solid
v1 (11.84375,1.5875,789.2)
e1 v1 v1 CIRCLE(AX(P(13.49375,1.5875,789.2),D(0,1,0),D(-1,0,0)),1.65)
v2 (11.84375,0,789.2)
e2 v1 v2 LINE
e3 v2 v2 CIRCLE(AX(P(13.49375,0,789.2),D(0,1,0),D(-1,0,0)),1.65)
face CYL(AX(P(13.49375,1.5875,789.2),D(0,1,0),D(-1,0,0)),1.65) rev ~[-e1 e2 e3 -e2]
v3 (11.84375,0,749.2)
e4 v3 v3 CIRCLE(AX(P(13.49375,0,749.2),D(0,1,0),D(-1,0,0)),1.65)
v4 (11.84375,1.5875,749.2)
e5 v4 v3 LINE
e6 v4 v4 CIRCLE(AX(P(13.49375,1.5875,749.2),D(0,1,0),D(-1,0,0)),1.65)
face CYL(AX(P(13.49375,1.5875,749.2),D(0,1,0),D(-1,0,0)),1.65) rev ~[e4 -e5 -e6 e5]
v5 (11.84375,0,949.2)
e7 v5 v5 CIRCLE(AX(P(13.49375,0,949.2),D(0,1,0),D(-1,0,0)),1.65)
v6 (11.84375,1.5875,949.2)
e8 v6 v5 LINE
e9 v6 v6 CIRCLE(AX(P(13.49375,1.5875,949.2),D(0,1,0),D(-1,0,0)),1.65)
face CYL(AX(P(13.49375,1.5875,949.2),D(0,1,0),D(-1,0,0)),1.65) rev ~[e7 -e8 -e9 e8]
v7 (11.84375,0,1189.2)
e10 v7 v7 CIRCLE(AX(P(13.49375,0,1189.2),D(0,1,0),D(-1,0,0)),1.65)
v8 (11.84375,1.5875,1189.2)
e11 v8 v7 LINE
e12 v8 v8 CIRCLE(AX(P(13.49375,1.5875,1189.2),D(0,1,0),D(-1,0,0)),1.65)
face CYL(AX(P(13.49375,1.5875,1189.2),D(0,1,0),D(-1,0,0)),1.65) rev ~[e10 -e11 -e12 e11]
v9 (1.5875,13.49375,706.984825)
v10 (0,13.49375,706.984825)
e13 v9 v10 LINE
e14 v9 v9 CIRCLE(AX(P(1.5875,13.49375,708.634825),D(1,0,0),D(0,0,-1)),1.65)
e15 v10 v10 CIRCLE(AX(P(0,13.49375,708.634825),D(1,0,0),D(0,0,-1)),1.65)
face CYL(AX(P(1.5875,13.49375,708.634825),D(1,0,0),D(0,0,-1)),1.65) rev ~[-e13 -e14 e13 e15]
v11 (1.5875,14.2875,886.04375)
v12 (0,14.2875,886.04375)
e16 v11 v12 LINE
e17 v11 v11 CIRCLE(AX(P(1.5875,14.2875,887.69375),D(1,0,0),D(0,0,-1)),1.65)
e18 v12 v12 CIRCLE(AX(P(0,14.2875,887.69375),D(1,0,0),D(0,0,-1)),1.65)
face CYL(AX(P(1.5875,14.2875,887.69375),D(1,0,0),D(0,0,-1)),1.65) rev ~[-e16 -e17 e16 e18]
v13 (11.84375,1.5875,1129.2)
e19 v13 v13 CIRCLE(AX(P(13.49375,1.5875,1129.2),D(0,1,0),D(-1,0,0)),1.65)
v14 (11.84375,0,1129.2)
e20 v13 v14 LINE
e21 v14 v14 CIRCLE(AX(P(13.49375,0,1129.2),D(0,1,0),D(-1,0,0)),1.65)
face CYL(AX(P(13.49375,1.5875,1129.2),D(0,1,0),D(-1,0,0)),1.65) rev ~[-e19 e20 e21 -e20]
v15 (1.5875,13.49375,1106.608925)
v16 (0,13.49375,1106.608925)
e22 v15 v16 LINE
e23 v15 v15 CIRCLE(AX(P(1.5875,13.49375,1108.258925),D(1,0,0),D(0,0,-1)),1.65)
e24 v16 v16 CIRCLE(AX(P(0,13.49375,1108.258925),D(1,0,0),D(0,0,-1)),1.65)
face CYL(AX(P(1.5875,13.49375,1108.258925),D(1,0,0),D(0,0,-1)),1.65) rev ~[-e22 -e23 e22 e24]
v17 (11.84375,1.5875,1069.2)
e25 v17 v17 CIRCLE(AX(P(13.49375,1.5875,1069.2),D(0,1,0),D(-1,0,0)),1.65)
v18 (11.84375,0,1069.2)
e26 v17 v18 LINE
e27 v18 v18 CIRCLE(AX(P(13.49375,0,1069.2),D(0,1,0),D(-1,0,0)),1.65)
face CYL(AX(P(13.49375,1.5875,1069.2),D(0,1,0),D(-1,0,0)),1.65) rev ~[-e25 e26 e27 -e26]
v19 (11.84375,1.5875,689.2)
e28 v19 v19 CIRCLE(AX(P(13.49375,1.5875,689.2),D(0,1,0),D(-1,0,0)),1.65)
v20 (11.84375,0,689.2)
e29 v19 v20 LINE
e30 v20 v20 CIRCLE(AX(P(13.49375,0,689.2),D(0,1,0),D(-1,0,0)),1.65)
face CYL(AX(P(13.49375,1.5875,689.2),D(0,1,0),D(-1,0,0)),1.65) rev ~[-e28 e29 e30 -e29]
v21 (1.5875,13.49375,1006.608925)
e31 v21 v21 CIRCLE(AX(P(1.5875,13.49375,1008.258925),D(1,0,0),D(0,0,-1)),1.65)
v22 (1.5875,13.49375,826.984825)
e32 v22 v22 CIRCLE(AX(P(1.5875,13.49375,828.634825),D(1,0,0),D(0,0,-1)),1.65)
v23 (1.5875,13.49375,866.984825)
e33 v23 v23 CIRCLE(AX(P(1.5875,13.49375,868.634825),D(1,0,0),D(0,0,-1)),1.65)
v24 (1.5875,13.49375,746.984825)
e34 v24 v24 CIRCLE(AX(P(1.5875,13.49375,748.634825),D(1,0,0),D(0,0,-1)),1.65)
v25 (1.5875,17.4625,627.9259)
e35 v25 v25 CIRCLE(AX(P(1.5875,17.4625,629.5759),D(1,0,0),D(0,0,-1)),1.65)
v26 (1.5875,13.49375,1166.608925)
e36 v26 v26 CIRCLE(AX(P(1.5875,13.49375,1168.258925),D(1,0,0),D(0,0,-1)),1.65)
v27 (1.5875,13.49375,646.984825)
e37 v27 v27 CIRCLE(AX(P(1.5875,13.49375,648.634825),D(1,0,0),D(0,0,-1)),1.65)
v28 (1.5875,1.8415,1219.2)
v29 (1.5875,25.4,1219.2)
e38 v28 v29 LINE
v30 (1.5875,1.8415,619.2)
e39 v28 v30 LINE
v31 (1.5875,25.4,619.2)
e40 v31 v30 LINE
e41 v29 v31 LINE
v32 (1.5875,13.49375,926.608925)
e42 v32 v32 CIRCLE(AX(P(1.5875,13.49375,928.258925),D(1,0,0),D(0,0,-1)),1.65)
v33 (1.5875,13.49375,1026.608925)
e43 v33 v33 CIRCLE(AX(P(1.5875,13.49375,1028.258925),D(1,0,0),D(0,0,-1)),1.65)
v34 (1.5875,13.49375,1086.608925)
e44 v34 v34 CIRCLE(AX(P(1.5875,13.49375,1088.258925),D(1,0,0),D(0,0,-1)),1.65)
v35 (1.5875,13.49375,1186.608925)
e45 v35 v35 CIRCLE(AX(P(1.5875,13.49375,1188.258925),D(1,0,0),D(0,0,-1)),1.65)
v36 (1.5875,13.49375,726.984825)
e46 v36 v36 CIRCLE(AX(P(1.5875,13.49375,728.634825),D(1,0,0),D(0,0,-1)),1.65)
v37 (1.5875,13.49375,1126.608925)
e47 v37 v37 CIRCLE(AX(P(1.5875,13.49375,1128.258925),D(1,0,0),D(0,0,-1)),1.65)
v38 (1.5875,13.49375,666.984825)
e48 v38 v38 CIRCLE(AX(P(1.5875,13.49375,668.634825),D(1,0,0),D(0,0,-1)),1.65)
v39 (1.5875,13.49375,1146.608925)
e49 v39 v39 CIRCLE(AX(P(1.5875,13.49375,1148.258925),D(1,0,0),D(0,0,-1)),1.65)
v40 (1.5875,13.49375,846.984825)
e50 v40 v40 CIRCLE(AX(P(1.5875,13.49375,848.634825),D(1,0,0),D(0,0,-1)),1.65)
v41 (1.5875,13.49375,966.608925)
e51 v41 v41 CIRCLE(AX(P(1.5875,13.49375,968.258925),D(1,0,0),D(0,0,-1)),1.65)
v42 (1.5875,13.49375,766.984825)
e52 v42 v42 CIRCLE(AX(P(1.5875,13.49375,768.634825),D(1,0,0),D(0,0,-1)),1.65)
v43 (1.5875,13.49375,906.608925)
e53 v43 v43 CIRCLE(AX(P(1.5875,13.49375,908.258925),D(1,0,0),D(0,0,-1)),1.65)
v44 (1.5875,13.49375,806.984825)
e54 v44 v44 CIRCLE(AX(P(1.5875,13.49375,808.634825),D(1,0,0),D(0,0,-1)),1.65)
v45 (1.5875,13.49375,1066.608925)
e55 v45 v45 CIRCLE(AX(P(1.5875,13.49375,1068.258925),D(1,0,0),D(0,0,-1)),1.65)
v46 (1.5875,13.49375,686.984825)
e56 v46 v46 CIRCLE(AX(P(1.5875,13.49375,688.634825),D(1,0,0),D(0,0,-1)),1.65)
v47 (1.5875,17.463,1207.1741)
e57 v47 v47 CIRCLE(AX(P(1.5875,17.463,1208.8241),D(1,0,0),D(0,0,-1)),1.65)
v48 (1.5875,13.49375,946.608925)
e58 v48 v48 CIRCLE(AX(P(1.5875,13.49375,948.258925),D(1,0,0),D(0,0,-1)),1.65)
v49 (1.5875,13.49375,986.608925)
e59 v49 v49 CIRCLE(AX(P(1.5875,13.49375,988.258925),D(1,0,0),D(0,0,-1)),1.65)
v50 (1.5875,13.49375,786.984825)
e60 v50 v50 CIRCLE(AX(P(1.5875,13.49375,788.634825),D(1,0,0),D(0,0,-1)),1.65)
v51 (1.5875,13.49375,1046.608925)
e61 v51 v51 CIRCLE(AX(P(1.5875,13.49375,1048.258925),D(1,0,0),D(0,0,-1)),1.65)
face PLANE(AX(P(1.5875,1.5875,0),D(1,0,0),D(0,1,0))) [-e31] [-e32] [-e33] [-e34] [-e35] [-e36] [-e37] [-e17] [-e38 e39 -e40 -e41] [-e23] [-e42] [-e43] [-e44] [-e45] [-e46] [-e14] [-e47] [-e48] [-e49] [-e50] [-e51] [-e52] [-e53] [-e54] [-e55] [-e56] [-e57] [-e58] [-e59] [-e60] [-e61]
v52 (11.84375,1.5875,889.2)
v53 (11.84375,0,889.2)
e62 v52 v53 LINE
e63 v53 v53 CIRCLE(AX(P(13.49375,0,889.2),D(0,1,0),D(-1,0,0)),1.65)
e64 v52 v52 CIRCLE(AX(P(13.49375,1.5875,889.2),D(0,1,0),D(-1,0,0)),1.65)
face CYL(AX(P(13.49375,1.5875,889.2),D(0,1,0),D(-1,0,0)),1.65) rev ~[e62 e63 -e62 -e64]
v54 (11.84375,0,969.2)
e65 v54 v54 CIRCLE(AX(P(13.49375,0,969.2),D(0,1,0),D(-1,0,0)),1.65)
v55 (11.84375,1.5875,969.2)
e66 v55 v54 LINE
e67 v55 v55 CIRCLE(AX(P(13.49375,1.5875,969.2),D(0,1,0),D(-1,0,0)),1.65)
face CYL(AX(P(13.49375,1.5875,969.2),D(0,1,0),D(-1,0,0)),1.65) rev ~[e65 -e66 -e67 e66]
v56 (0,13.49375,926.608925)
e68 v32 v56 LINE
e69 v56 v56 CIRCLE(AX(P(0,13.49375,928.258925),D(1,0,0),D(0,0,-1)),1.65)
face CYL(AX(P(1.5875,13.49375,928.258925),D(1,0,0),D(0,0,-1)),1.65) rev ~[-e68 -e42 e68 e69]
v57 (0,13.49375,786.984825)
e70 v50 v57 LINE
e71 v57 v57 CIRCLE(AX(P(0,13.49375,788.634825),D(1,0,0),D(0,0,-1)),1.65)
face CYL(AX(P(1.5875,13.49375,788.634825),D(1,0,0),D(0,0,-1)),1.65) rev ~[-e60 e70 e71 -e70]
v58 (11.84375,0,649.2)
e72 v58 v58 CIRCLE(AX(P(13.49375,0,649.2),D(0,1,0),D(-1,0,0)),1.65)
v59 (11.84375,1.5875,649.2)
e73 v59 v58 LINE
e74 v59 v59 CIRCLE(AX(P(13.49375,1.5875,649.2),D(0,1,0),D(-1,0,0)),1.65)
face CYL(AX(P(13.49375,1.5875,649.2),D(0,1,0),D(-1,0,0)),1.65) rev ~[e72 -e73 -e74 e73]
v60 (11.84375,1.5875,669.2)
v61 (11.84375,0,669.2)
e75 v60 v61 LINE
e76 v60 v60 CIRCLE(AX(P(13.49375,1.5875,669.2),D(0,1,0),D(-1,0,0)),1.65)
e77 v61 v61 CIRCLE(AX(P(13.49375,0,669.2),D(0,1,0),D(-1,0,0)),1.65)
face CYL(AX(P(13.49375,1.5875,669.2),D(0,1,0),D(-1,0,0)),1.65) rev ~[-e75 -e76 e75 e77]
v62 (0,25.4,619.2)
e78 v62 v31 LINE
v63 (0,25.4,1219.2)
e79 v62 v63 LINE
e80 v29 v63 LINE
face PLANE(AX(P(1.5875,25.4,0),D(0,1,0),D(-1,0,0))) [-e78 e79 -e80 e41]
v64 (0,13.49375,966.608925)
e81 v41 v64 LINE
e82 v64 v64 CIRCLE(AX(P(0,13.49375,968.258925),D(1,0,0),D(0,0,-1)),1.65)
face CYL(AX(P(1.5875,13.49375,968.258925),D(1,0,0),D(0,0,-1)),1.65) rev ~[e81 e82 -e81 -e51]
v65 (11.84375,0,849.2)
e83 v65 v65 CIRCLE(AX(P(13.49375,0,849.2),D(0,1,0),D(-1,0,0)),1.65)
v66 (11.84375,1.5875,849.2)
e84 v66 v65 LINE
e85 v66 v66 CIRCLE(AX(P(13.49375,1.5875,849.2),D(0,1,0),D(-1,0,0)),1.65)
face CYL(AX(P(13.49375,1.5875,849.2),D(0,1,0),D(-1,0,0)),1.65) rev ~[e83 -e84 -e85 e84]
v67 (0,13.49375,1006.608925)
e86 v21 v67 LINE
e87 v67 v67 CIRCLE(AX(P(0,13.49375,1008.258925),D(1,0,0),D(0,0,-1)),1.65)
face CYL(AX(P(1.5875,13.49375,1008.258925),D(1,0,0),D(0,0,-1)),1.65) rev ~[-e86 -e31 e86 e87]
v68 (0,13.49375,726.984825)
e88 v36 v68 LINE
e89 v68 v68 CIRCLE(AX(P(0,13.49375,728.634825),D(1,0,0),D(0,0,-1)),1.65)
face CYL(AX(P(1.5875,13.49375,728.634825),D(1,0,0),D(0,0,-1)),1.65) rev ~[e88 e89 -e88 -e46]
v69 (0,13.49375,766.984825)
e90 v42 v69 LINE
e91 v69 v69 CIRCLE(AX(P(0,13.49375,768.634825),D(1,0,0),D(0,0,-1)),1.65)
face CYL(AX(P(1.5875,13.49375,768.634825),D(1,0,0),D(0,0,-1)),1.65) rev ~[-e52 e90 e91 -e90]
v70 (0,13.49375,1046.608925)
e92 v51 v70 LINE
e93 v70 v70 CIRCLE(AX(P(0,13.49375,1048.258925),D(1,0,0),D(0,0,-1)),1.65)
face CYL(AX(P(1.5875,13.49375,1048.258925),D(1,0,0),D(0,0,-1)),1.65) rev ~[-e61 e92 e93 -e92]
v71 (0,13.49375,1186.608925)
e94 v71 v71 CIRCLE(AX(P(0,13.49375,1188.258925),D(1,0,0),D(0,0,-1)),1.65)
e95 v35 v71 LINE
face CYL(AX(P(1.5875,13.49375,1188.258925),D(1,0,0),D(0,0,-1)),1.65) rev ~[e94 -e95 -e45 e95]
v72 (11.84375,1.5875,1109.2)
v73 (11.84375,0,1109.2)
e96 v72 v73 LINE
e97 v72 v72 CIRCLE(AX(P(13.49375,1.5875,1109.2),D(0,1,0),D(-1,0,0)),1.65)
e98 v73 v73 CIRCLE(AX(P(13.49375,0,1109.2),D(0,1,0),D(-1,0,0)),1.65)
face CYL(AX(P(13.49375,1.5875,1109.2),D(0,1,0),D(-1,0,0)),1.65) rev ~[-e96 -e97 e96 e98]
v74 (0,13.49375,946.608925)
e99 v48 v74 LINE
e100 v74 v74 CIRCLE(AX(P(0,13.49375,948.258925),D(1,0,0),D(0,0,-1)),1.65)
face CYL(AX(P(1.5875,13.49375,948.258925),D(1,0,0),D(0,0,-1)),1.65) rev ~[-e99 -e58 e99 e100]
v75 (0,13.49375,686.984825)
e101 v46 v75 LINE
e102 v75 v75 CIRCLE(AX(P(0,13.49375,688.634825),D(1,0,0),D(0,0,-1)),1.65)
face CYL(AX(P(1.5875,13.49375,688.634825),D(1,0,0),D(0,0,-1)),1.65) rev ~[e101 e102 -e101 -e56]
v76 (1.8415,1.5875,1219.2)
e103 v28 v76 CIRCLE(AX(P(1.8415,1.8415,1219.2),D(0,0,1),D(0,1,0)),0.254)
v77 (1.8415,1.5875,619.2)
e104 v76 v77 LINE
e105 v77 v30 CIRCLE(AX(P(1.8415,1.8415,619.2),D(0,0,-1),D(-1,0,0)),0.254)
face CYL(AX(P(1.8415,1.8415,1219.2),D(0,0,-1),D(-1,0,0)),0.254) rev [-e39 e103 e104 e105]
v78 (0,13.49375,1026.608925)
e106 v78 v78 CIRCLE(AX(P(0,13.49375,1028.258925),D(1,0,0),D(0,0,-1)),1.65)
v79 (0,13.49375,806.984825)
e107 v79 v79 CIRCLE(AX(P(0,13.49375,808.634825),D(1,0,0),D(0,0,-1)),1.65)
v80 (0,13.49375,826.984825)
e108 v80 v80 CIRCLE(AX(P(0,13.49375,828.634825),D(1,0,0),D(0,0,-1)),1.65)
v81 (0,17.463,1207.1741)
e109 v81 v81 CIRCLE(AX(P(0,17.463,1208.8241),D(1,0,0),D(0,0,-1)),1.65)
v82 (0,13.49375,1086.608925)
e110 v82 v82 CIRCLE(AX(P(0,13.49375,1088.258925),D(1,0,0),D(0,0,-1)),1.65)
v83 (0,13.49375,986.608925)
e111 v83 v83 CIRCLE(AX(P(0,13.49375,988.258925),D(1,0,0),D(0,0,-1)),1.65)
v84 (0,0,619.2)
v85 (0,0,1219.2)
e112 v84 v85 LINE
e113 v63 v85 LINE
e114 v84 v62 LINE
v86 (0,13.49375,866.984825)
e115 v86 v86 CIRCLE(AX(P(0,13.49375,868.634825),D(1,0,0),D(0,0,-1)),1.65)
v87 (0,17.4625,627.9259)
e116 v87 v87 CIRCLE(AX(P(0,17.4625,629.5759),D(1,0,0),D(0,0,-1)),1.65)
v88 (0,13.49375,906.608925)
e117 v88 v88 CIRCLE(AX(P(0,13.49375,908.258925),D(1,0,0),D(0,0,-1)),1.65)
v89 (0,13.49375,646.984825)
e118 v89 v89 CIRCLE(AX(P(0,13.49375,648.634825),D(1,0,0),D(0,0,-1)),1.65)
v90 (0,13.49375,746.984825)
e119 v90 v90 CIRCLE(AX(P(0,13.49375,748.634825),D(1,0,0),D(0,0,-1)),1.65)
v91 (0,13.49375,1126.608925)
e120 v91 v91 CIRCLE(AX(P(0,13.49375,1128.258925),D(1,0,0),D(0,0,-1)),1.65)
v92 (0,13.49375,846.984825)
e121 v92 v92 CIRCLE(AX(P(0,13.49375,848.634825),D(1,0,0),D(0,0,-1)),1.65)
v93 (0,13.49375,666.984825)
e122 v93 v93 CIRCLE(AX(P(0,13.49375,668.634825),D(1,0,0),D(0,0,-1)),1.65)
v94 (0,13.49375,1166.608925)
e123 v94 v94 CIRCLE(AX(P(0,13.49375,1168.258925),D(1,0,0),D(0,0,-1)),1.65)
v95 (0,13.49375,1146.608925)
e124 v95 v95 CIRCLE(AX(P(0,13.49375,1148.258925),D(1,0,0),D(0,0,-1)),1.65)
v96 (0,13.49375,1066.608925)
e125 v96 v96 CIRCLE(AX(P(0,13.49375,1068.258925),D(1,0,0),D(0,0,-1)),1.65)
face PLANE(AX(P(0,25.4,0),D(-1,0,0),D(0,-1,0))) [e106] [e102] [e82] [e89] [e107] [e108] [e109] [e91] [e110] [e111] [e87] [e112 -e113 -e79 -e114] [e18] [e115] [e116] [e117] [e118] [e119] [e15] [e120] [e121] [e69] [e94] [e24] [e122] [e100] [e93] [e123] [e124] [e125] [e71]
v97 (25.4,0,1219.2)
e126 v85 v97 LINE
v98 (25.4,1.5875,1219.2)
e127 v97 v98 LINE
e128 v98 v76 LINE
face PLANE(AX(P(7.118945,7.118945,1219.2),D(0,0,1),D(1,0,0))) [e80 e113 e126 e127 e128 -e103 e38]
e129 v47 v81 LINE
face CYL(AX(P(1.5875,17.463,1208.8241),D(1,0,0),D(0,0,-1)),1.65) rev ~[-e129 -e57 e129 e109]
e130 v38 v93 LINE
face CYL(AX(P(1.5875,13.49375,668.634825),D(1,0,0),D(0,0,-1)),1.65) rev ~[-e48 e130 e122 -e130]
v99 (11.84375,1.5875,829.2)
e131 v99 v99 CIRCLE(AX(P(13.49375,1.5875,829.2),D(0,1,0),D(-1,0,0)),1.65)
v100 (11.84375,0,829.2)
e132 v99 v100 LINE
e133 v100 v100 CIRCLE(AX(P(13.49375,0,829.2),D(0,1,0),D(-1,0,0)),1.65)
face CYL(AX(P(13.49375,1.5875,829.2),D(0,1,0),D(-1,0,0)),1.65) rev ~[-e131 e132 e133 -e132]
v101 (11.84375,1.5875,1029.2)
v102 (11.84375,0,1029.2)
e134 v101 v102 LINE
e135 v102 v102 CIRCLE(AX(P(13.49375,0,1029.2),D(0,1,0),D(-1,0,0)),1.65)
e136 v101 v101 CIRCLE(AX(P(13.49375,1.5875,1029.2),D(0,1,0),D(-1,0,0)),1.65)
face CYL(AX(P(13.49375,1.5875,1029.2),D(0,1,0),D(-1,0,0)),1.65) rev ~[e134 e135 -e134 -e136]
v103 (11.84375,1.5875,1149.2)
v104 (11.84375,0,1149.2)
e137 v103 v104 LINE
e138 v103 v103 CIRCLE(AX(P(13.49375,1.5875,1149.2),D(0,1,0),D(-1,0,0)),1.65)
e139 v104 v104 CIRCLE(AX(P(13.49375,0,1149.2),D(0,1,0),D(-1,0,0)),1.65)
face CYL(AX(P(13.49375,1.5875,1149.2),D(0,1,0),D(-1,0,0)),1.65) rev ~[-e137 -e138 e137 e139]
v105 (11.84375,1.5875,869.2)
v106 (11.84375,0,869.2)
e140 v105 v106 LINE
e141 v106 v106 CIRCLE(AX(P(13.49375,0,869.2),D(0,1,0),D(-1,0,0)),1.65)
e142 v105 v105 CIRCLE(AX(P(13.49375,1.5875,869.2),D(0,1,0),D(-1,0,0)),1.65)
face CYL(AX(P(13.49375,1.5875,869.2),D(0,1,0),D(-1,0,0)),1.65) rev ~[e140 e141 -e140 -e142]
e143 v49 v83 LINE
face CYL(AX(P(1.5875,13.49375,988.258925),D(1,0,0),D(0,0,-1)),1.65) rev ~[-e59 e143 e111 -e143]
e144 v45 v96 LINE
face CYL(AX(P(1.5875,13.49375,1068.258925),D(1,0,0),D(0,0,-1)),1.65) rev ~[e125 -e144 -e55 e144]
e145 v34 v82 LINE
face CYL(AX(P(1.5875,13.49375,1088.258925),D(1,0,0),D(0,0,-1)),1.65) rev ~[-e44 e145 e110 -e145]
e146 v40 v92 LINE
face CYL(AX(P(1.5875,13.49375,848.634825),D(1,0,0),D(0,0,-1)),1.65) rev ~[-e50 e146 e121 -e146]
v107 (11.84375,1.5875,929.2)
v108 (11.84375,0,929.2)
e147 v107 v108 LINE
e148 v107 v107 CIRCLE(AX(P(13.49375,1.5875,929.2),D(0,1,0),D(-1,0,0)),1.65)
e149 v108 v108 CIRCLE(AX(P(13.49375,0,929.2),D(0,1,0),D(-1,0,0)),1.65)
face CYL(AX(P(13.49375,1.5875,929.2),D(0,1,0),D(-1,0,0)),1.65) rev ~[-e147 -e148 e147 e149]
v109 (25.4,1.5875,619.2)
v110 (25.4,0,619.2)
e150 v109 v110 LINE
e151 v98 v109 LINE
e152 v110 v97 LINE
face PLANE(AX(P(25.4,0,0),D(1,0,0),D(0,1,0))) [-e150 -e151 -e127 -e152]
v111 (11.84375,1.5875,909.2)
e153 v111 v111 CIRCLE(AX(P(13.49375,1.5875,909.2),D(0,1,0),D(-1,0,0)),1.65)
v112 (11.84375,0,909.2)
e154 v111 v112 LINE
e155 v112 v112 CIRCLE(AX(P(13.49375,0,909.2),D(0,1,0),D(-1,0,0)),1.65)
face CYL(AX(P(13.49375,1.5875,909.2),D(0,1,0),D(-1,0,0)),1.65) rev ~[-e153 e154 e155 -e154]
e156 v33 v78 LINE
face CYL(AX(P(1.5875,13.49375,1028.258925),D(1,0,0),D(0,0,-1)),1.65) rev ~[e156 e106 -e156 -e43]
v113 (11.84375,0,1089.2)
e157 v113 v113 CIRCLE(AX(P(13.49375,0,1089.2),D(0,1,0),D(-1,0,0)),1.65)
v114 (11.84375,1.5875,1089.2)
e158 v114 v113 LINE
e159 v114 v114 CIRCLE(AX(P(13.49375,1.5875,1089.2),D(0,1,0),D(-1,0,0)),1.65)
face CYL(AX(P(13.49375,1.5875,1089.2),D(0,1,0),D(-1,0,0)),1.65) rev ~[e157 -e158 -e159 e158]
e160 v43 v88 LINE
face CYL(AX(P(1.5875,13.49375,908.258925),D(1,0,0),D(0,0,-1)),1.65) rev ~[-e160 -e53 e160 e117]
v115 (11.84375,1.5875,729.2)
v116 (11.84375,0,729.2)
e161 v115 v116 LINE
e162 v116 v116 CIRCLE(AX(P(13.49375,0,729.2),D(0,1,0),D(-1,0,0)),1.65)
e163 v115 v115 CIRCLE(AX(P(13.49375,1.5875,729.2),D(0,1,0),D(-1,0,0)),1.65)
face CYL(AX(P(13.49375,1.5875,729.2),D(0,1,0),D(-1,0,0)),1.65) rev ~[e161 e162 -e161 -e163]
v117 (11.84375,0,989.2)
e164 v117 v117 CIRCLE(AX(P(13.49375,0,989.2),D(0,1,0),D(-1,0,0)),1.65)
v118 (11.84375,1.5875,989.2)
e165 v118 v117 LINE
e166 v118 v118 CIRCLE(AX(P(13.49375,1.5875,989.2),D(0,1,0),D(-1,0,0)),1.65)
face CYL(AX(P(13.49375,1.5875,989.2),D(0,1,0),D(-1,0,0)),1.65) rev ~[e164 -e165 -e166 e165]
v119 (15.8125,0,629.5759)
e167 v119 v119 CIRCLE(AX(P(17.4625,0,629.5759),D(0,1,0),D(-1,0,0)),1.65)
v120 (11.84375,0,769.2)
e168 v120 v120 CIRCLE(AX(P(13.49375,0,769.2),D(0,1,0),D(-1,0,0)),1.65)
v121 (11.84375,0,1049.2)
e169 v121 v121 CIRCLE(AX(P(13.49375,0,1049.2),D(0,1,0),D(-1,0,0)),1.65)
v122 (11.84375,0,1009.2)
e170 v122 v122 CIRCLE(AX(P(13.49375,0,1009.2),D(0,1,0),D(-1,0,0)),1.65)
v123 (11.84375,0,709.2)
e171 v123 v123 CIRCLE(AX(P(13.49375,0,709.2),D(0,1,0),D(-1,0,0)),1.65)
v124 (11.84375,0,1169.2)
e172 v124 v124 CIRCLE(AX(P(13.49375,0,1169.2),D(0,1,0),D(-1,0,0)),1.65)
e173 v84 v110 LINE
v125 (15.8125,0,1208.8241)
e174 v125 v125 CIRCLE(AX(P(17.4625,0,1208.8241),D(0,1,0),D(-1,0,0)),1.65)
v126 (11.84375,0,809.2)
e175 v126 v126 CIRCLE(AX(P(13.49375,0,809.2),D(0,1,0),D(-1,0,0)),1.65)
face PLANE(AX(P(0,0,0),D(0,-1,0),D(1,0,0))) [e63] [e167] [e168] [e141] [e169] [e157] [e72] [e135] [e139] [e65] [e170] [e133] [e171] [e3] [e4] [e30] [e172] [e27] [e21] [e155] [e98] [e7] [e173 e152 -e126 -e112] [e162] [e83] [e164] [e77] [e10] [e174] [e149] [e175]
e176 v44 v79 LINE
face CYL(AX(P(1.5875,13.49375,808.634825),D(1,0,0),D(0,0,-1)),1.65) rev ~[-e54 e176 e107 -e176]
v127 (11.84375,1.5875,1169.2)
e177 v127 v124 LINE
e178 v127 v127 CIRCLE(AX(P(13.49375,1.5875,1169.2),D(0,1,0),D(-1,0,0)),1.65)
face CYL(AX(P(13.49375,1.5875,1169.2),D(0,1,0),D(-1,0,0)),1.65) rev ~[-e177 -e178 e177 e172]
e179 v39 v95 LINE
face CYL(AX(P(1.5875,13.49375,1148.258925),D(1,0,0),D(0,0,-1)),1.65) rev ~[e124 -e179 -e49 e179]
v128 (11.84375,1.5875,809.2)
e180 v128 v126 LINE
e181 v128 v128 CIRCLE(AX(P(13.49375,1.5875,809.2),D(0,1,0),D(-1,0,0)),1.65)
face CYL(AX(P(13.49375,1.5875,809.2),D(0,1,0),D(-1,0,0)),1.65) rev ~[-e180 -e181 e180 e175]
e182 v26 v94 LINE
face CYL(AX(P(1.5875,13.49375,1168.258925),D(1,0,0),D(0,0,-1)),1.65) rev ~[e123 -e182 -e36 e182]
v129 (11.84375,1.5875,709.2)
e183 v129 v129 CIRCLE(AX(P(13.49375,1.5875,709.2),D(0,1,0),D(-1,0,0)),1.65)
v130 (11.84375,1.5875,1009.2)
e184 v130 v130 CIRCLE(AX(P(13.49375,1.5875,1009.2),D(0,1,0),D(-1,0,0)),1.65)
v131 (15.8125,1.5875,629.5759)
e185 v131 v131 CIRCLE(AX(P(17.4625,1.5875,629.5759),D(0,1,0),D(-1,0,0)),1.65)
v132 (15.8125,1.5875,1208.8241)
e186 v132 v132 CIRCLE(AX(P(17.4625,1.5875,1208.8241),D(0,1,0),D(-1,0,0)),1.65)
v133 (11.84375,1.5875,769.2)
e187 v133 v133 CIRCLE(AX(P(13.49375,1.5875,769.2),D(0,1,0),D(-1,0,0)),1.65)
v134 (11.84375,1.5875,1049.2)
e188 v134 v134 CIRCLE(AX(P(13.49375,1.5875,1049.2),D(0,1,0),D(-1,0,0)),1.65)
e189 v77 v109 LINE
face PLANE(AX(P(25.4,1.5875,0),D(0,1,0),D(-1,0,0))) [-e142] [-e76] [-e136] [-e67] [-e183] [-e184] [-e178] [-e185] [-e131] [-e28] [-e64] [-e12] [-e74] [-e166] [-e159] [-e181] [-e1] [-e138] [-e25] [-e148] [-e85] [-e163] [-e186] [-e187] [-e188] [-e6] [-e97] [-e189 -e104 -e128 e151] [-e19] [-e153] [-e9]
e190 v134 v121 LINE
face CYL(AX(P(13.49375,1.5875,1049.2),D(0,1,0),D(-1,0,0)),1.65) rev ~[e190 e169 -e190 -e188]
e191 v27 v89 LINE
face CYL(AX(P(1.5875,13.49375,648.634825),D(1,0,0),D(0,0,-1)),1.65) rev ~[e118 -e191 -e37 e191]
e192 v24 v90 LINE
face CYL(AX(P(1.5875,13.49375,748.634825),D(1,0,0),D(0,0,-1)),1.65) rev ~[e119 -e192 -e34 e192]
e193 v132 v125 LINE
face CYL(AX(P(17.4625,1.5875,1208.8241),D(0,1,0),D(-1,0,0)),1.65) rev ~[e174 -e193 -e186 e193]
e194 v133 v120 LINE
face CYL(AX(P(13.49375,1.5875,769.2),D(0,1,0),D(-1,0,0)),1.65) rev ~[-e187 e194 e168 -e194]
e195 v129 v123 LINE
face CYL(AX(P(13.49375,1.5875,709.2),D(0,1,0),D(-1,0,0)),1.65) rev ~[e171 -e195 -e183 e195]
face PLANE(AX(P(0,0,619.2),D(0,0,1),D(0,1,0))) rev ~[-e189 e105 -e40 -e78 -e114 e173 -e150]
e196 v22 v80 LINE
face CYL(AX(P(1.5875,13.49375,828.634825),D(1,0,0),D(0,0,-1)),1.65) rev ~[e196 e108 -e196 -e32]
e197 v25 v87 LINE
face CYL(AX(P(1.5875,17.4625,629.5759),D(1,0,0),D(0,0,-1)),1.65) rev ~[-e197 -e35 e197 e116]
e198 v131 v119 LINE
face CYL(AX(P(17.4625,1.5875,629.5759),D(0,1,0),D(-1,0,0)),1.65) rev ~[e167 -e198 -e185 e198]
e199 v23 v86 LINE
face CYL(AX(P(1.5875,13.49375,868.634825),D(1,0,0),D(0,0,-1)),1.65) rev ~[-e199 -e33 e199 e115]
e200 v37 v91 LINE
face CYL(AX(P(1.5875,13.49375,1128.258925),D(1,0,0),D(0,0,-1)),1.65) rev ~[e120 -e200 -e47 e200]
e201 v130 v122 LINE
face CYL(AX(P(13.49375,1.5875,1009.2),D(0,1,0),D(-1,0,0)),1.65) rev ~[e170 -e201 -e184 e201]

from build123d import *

# Parameters (mm, degrees)
BOSS_EXTRUDE1_DEPTH = 1219.2
FILLET1_R           = 0.254
SKETCH4_W           = 1838.4
SKETCH4_H           = 74.945320812
CUT_EXTRUDE1_DEPTH  = 60
SKETCH5_R           = 1.65
CUT_EXTRUDE2_DEPTH  = 10
SKETCH9_R           = 1.65
CUT_EXTRUDE6_DEPTH  = 60


with BuildPart() as part:
    # Sketch3 → Boss-Extrude1 (new, symmetric)
    with BuildSketch(Plane.XY):
        Polygon((1.5875, 25.4), (0, 25.4), (0, 0), (25.4, 0), (25.4, 1.5875), (1.5875, 1.5875), align=None)
    extrude(amount=BOSS_EXTRUDE1_DEPTH, both=True)

    # Fillet1
    fillet1_edges = [part.edges().sort_by_distance(p)[0] for p in [
        (1.5875, 1.5875, 0),
    ]]
    fillet(fillet1_edges, radius=FILLET1_R)

    # Sketch4 → Cut-Extrude1 (cut)
    with BuildSketch(Plane.ZY):
        with Locations((-300, 37.472660406)):
            Rectangle(SKETCH4_W, SKETCH4_H)
    extrude(amount=-CUT_EXTRUDE1_DEPTH, mode=Mode.SUBTRACT)

    # Sketch5 → Cut-Extrude2 (cut)
    with BuildSketch(Plane(origin=(0, 1.5875, 0), x_dir=(1, 0, 0), z_dir=(0, 1, 0))):
        with Locations(Location((17.4625, -629.5759, 0), (0, 0, 180))):
            Circle(SKETCH5_R)
        with Locations(Location((17.4625, -1208.8241, 0), (0, 0, 180))):
            Circle(SKETCH5_R)
        with Locations(Location((13.49375, -1189.2, 0), (0, 0, 180))):
            Circle(SKETCH5_R)
        with Locations(Location((13.49375, -1169.2, 0), (0, 0, 180))):
            Circle(SKETCH5_R)
        with Locations(Location((13.49375, -1149.2, 0), (0, 0, 180))):
            Circle(SKETCH5_R)
        with Locations(Location((13.49375, -1129.2, 0), (0, 0, 180))):
            Circle(SKETCH5_R)
        with Locations(Location((13.49375, -1109.2, 0), (0, 0, 180))):
            Circle(SKETCH5_R)
        with Locations(Location((13.49375, -1089.2, 0), (0, 0, 180))):
            Circle(SKETCH5_R)
        with Locations(Location((13.49375, -1069.2, 0), (0, 0, 180))):
            Circle(SKETCH5_R)
        with Locations(Location((13.49375, -1049.2, 0), (0, 0, 180))):
            Circle(SKETCH5_R)
        with Locations(Location((13.49375, -1029.2, 0), (0, 0, 180))):
            Circle(SKETCH5_R)
        with Locations(Location((13.49375, -1009.2, 0), (0, 0, 180))):
            Circle(SKETCH5_R)
        with Locations(Location((13.49375, -989.2, 0), (0, 0, 180))):
            Circle(SKETCH5_R)
        with Locations(Location((13.49375, -969.2, 0), (0, 0, 180))):
            Circle(SKETCH5_R)
        with Locations(Location((13.49375, -949.2, 0), (0, 0, 180))):
            Circle(SKETCH5_R)
        with Locations(Location((13.49375, -929.2, 0), (0, 0, 180))):
            Circle(SKETCH5_R)
        with Locations(Location((13.49375, -909.2, 0), (0, 0, 180))):
            Circle(SKETCH5_R)
        with Locations(Location((13.49375, -889.2, 0), (0, 0, 180))):
            Circle(SKETCH5_R)
        with Locations(Location((13.49375, -869.2, 0), (0, 0, 180))):
            Circle(SKETCH5_R)
        with Locations(Location((13.49375, -849.2, 0), (0, 0, 180))):
            Circle(SKETCH5_R)
        with Locations(Location((13.49375, -829.2, 0), (0, 0, 180))):
            Circle(SKETCH5_R)
        with Locations(Location((13.49375, -809.2, 0), (0, 0, 180))):
            Circle(SKETCH5_R)
        with Locations(Location((13.49375, -789.2, 0), (0, 0, 180))):
            Circle(SKETCH5_R)
        with Locations(Location((13.49375, -769.2, 0), (0, 0, 180))):
            Circle(SKETCH5_R)
        with Locations(Location((13.49375, -749.2, 0), (0, 0, 180))):
            Circle(SKETCH5_R)
        with Locations(Location((13.49375, -729.2, 0), (0, 0, 180))):
            Circle(SKETCH5_R)
        with Locations(Location((13.49375, -709.2, 0), (0, 0, 180))):
            Circle(SKETCH5_R)
        with Locations(Location((13.49375, -689.2, 0), (0, 0, 180))):
            Circle(SKETCH5_R)
        with Locations(Location((13.49375, -669.2, 0), (0, 0, 180))):
            Circle(SKETCH5_R)
        with Locations(Location((13.49375, -649.2, 0), (0, 0, 180))):
            Circle(SKETCH5_R)
    extrude(amount=-CUT_EXTRUDE2_DEPTH, mode=Mode.SUBTRACT)

    # Sketch9 → Cut-Extrude6 (cut)
    with BuildSketch(Plane(origin=(1.5875, 0, 0), x_dir=(0, 0, -1), z_dir=(1, 0, 0))):
        with Locations((-629.5759, 17.4625)):
            Circle(SKETCH9_R)
        with Locations((-648.634825, 13.49375)):
            Circle(SKETCH9_R)
        with Locations((-887.69375, 14.2875)):
            Circle(SKETCH9_R)
        with Locations((-1208.8241, 17.463)):
            Circle(SKETCH9_R)
        with Locations((-668.634825, 13.49375)):
            Circle(SKETCH9_R)
        with Locations((-688.634825, 13.49375)):
            Circle(SKETCH9_R)
        with Locations((-708.634825, 13.49375)):
            Circle(SKETCH9_R)
        with Locations((-728.634825, 13.49375)):
            Circle(SKETCH9_R)
        with Locations((-748.634825, 13.49375)):
            Circle(SKETCH9_R)
        with Locations((-768.634825, 13.49375)):
            Circle(SKETCH9_R)
        with Locations((-788.634825, 13.49375)):
            Circle(SKETCH9_R)
        with Locations((-808.634825, 13.49375)):
            Circle(SKETCH9_R)
        with Locations((-828.634825, 13.49375)):
            Circle(SKETCH9_R)
        with Locations((-848.634825, 13.49375)):
            Circle(SKETCH9_R)
        with Locations((-868.634825, 13.49375)):
            Circle(SKETCH9_R)
        with Locations((-908.258925, 13.49375)):
            Circle(SKETCH9_R)
        with Locations((-928.258925, 13.49375)):
            Circle(SKETCH9_R)
        with Locations((-948.258925, 13.49375)):
            Circle(SKETCH9_R)
        with Locations((-968.258925, 13.49375)):
            Circle(SKETCH9_R)
        with Locations((-988.258925, 13.49375)):
            Circle(SKETCH9_R)
        with Locations((-1008.258925, 13.49375)):
            Circle(SKETCH9_R)
        with Locations((-1028.258925, 13.49375)):
            Circle(SKETCH9_R)
        with Locations((-1048.258925, 13.49375)):
            Circle(SKETCH9_R)
        with Locations((-1068.258925, 13.49375)):
            Circle(SKETCH9_R)
        with Locations((-1088.258925, 13.49375)):
            Circle(SKETCH9_R)
        with Locations((-1108.258925, 13.49375)):
            Circle(SKETCH9_R)
        with Locations((-1128.258925, 13.49375)):
            Circle(SKETCH9_R)
        with Locations((-1148.258925, 13.49375)):
            Circle(SKETCH9_R)
        with Locations((-1168.258925, 13.49375)):
            Circle(SKETCH9_R)
        with Locations((-1188.258925, 13.49375)):
            Circle(SKETCH9_R)
    extrude(amount=-CUT_EXTRUDE6_DEPTH, mode=Mode.SUBTRACT)


solid = part.part
